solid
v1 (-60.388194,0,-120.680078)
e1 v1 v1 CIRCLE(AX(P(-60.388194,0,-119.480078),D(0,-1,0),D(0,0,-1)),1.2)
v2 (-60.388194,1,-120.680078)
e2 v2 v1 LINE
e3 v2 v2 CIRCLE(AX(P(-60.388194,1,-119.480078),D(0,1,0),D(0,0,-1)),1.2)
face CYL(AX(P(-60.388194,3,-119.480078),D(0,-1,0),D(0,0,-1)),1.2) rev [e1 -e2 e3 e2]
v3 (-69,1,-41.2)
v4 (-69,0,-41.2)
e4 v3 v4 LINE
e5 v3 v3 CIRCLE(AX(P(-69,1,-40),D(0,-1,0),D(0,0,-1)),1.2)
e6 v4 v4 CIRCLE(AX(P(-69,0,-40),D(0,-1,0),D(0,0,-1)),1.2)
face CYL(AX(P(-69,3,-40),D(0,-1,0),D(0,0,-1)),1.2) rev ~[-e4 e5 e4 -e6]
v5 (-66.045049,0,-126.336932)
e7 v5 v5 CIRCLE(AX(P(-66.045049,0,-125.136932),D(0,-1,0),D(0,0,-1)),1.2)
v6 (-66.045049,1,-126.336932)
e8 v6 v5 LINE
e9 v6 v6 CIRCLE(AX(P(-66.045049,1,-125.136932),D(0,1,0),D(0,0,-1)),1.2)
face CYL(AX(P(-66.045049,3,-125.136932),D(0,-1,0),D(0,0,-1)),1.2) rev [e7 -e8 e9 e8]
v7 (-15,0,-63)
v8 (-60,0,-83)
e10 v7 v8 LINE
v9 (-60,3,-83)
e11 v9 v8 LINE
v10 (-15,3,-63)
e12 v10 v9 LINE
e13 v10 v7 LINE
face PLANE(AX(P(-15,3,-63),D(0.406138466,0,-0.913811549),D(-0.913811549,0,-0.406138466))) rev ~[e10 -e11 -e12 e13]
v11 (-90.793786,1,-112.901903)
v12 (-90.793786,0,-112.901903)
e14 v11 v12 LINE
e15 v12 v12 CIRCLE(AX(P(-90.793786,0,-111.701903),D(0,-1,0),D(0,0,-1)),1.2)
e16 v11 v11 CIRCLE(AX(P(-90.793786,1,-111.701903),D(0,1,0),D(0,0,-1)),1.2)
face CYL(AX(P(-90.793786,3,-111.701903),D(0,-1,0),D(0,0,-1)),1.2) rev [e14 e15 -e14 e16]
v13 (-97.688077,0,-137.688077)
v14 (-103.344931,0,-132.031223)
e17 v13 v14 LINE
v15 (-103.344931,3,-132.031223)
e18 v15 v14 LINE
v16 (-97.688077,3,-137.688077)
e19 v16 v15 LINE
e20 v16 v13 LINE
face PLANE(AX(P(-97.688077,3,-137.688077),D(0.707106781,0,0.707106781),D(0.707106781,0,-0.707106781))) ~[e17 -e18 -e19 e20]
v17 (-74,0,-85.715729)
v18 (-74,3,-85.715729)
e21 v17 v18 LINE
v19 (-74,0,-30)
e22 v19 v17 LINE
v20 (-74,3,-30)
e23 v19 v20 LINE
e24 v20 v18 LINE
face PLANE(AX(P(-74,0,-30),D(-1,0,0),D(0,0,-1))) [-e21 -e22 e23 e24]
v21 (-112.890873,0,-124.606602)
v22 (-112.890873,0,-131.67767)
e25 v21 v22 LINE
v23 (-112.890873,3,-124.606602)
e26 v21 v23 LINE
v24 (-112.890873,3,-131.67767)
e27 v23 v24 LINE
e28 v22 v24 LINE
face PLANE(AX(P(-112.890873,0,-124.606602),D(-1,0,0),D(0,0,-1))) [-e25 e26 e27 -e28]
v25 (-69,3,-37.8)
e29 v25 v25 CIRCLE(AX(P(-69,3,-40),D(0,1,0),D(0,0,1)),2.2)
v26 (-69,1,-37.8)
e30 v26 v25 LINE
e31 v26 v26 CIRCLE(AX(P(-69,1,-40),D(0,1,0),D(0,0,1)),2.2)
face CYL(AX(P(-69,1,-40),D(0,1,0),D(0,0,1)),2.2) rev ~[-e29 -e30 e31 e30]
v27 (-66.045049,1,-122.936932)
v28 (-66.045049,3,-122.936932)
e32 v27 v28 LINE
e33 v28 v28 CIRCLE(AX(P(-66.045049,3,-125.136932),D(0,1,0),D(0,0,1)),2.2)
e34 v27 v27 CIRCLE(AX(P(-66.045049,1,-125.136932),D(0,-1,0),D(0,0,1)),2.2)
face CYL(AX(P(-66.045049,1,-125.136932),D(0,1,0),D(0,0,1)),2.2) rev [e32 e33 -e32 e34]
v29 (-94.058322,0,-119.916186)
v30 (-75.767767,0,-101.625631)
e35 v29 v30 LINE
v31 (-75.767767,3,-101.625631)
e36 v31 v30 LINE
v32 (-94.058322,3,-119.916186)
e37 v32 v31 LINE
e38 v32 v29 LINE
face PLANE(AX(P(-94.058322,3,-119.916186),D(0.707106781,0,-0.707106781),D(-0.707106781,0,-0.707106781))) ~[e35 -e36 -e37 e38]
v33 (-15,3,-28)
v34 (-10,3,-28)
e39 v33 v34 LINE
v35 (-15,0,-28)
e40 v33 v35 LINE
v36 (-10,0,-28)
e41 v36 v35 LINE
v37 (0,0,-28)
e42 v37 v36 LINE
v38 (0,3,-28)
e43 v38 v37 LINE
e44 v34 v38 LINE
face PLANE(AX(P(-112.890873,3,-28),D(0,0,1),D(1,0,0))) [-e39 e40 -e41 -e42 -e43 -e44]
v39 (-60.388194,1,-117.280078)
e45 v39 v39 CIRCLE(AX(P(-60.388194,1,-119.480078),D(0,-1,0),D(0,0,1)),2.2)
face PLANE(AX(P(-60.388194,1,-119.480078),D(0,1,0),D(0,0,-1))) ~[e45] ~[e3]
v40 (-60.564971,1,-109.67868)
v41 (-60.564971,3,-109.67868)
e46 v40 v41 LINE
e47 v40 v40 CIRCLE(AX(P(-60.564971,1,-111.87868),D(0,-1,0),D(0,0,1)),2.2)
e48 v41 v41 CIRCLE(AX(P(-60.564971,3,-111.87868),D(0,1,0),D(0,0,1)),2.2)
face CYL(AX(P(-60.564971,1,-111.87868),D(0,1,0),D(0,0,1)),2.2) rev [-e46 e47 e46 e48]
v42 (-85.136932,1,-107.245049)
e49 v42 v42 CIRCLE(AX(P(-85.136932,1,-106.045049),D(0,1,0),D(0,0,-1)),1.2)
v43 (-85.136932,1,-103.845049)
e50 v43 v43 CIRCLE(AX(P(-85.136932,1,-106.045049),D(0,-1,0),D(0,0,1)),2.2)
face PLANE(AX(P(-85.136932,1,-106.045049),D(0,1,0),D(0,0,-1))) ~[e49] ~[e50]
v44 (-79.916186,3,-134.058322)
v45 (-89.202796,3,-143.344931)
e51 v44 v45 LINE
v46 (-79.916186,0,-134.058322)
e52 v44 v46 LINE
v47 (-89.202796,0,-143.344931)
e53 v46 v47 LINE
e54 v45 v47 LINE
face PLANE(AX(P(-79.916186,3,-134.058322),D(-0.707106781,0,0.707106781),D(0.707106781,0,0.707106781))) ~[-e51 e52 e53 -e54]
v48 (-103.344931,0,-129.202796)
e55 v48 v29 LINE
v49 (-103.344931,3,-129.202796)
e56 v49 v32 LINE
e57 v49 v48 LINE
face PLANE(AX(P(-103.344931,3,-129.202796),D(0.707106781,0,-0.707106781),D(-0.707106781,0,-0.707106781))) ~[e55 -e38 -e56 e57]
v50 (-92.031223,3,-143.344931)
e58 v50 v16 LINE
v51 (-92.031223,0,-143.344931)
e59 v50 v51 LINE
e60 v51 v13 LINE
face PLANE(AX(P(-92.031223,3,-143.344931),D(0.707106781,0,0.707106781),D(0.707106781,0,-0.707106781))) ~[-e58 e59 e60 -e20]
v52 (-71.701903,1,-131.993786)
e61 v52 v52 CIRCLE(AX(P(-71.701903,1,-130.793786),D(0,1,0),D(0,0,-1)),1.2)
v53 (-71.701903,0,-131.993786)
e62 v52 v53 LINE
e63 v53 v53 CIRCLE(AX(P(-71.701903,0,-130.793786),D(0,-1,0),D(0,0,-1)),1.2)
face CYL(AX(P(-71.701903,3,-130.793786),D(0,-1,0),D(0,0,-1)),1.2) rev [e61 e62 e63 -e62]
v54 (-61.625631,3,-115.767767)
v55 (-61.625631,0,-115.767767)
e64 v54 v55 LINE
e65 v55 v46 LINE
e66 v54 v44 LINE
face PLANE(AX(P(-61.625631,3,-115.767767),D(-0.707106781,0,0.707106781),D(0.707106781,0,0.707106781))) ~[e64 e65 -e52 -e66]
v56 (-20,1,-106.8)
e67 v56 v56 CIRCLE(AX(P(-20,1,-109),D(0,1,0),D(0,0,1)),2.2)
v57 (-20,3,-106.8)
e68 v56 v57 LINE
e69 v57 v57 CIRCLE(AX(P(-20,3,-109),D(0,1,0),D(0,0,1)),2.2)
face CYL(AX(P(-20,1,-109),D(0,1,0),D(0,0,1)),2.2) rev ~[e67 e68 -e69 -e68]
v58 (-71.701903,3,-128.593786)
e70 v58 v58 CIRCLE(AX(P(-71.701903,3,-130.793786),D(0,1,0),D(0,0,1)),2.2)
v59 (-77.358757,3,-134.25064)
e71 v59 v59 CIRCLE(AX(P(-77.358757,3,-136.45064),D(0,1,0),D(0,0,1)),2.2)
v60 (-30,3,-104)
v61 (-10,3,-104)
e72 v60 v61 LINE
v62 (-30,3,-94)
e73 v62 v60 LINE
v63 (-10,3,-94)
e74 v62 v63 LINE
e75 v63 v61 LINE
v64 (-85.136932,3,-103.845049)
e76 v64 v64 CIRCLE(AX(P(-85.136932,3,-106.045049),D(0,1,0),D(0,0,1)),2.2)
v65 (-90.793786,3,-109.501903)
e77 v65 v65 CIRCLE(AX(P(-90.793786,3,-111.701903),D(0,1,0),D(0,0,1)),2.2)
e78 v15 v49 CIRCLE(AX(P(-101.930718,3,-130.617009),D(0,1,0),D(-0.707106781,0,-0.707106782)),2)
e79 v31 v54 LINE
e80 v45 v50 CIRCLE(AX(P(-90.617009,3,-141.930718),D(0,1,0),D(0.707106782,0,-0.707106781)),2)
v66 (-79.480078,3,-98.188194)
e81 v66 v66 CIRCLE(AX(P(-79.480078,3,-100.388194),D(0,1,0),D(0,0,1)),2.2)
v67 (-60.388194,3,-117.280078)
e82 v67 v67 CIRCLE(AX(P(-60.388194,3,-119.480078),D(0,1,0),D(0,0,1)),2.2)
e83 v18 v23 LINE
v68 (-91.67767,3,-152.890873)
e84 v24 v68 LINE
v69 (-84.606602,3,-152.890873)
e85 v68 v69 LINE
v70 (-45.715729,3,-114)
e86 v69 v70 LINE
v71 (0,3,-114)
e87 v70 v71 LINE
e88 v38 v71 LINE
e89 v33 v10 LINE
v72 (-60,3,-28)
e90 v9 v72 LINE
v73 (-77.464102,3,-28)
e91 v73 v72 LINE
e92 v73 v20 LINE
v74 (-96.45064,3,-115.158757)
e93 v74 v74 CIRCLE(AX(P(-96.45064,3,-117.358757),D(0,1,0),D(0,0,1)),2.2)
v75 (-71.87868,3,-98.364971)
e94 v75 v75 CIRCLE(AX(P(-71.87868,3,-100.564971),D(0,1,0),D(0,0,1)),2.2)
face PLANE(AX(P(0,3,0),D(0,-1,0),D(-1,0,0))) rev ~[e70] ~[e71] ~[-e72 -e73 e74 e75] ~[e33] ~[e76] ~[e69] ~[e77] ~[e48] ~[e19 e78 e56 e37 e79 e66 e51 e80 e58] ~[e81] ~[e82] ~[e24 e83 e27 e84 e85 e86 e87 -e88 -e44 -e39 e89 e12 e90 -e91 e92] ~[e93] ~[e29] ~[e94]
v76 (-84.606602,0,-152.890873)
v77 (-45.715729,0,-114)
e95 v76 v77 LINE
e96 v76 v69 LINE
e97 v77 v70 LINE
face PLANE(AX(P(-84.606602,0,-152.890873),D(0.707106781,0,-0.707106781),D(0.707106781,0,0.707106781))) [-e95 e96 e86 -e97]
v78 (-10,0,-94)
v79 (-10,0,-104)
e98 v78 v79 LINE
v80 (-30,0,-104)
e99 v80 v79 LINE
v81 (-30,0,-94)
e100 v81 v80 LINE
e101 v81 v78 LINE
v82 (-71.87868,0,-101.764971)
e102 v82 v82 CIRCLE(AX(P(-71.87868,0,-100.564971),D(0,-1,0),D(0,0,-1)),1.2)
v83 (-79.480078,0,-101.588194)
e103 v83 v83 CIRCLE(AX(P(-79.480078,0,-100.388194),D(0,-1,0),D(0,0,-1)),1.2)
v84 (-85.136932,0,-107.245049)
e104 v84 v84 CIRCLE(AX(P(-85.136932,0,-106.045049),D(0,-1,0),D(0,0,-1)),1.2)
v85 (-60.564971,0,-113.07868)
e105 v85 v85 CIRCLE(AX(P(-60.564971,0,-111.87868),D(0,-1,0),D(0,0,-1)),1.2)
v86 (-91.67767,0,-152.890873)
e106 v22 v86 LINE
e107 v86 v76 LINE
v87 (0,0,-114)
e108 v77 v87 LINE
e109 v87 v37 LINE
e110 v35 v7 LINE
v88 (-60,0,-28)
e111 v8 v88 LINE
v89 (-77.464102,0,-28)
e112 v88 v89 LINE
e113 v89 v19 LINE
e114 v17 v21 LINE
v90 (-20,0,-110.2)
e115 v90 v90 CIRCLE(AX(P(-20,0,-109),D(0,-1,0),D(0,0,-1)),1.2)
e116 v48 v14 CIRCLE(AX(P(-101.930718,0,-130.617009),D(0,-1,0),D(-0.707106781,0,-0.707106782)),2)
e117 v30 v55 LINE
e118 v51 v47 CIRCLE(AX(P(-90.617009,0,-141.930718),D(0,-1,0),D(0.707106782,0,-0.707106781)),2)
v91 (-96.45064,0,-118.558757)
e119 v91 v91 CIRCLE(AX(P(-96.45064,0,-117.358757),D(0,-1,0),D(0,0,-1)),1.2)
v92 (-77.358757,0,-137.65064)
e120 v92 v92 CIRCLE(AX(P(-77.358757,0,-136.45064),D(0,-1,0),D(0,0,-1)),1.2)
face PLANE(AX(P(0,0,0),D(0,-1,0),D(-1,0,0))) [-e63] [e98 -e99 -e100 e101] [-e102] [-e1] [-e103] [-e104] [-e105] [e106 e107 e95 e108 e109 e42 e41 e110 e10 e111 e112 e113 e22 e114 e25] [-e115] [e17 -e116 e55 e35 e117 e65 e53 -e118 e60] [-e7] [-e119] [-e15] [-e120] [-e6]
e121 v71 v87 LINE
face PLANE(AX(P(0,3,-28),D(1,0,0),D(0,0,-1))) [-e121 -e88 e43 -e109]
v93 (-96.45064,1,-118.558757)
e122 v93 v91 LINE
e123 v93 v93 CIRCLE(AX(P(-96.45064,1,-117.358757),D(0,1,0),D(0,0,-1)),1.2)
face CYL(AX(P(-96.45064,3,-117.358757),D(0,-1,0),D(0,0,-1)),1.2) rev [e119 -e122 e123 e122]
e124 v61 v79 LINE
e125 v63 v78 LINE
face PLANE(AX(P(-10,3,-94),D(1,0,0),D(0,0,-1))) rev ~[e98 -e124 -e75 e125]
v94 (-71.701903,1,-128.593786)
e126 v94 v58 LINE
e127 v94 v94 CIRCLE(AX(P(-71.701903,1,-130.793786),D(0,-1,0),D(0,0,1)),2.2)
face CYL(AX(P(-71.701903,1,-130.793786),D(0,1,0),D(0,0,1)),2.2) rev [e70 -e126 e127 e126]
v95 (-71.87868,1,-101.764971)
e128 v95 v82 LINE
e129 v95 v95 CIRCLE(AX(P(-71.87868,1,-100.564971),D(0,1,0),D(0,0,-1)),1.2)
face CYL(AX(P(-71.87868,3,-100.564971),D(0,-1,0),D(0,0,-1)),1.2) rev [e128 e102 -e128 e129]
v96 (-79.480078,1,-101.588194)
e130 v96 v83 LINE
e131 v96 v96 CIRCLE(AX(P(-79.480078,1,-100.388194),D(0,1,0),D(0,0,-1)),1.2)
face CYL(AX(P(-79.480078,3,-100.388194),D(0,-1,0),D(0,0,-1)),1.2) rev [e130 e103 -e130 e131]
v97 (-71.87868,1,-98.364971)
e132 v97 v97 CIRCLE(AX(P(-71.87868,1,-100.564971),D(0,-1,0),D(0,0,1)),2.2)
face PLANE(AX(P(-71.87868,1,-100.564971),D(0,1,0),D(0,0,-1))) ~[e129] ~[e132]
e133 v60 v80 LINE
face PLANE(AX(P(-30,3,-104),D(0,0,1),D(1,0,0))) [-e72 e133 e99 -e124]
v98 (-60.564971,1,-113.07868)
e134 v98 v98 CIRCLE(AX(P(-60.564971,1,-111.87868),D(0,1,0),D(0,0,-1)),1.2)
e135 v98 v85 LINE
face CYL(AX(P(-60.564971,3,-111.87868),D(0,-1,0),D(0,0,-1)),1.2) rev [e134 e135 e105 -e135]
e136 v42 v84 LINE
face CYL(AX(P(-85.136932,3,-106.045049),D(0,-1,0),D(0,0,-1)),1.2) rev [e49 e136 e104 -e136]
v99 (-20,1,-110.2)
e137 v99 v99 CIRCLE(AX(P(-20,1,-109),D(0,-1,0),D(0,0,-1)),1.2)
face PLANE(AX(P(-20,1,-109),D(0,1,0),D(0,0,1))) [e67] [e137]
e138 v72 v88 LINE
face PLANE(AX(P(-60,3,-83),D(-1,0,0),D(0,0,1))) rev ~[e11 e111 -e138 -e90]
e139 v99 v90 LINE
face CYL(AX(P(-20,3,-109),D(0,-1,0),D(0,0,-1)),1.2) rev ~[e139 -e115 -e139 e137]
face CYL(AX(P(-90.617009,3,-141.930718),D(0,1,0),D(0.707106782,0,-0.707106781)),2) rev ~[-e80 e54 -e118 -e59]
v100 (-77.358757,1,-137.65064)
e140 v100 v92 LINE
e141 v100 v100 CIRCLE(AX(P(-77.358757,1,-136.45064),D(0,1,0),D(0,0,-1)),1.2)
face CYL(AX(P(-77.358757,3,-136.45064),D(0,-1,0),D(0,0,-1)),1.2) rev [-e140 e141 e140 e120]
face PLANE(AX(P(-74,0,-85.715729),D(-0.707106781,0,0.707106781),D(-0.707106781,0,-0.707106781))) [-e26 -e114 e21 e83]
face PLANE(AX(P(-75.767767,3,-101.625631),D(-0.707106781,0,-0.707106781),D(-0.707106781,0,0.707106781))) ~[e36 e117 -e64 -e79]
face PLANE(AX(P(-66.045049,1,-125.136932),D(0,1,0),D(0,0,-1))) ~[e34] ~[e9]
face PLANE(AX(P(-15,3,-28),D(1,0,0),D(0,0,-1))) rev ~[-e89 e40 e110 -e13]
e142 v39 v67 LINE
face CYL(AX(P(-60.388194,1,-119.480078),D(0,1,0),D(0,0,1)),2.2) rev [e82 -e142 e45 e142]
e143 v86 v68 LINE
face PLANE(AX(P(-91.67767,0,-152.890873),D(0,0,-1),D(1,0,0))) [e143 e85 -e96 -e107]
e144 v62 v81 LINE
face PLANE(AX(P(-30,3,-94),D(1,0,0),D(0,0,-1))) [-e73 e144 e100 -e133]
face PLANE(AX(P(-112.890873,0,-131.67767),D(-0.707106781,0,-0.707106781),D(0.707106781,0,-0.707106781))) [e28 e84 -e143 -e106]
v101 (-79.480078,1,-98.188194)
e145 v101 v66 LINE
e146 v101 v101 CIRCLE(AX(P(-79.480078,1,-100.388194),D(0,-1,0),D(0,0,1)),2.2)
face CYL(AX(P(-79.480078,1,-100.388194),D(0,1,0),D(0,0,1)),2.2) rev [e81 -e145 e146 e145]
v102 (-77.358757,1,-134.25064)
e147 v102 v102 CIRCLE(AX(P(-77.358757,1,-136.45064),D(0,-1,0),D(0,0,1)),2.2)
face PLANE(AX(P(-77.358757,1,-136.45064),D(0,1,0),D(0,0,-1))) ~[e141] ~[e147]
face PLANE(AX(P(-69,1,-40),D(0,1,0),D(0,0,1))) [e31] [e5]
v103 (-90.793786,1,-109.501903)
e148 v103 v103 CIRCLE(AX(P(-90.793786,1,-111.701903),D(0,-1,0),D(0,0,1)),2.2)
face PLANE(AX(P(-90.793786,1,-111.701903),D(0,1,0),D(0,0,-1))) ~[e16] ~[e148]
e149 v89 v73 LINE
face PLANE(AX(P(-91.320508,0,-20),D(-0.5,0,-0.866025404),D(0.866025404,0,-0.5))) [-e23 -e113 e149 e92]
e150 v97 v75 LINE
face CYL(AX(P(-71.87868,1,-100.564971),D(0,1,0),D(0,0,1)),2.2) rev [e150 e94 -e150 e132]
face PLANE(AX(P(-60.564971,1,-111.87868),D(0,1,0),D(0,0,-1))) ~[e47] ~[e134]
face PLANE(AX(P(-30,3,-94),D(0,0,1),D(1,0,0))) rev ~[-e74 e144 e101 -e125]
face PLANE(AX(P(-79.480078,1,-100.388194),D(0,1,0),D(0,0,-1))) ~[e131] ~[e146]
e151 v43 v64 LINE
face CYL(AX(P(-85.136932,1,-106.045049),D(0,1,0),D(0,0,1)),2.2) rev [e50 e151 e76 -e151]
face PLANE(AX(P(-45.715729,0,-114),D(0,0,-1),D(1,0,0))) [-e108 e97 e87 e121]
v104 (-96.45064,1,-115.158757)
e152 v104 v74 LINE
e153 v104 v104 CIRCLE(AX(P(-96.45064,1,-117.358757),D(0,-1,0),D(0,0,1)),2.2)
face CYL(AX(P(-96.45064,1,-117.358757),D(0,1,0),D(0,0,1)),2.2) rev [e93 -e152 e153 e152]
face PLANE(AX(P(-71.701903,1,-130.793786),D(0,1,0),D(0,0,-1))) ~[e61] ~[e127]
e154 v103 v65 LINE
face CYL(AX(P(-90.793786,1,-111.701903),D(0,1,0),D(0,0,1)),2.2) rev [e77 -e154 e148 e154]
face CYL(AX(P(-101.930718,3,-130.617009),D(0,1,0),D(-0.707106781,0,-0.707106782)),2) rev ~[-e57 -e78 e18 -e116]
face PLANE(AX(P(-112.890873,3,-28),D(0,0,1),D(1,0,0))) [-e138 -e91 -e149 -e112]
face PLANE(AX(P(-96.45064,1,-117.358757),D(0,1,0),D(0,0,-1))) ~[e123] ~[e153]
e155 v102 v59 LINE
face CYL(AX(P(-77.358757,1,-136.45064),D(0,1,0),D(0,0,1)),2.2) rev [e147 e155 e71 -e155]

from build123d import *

# Parameters (mm, degrees)
EXTRUDE_1_DEPTH              = 3
CUT_EXTRUDE_1_REACH          = 217.134
HOLE_WIZARD_M2_2_D           = 2.4
HOLE_WIZARD_M2_2_CBORE_D     = 4.4
HOLE_WIZARD_M2_2_CBORE_DEPTH = 2
CUT_EXTRUDE_2_REACH          = 217.134
HOLE_WIZARD_M2_3_D           = 2.4
HOLE_WIZARD_M2_3_CBORE_D     = 4.4
HOLE_WIZARD_M2_3_CBORE_DEPTH = 2
MIRROR_7_COPY_1_REACH        = 217.134
MIRROR_7_COPY_2_D            = 2.4
MIRROR_7_COPY_2_CBORE_D      = 4.4
MIRROR_7_COPY_2_CBORE_DEPTH  = 2
CUT_EXTRUDE_3_REACH          = 217.134
SKETCH_18_W                  = 20
SKETCH_18_H                  = 10
HOLE_WIZARD_M2_4_D           = 2.4
HOLE_WIZARD_M2_4_CBORE_D     = 4.4
HOLE_WIZARD_M2_4_CBORE_DEPTH = 2
HOLE_WIZARD_M2_5_D           = 2.4
HOLE_WIZARD_M2_5_CBORE_D     = 4.4
HOLE_WIZARD_M2_5_CBORE_DEPTH = 2
HOLE_WIZARD_M2_6_D           = 2.4
HOLE_WIZARD_M2_6_CBORE_D     = 4.4
HOLE_WIZARD_M2_6_CBORE_DEPTH = 2
SKETCH_24_W                  = 20
SKETCH_24_H                  = 56
CUT_EXTRUDE_4_DEPTH          = 10
HOLE_WIZARD_M2_7_D           = 2.4
HOLE_WIZARD_M2_7_CBORE_D     = 4.4
HOLE_WIZARD_M2_7_CBORE_DEPTH = 2
SKETCH_26_OUTSIDE_W          = 390.69
SKETCH_26_OUTSIDE_H          = 393.83
SKETCH_26_OUTSIDE_W_2        = 112.890872965
SKETCH_26_OUTSIDE_H_2        = 124.890872965
CUT_EXTRUDE_5_DEPTH          = 10


with BuildPart() as part:
    # 草图1 → 凸台-拉伸1 (new body)
    with BuildSketch(Plane(origin=(0, 0, 0), x_dir=(1, 0, 0), z_dir=(0, 1, 0))):
        Polygon((-45.715728753, 114), (45.715728753, 114), (84.606601718, 152.890872965), (91.67766953, 152.890872965), (112.890872965, 131.67766953), (112.890872965, 124.606601718), (74, 85.715728753), (74, 30), (91.320508076, 20), (146.320508076, 20), (151.320508076, 15), (151.320508076, -15), (146.320508076, -20), (91.320508076, -20), (74, -30), (74, -85.715728753), (112.890872965, -124.606601718), (112.890872965, -131.67766953), (91.67766953, -152.890872965), (84.606601718, -152.890872965), (45.715728753, -114), (-45.715728753, -114), (-84.606601718, -152.890872965), (-91.67766953, -152.890872965), (-112.890872965, -131.67766953), (-112.890872965, -124.606601718), (-74, -85.715728753), (-74, -30), (-91.320508076, -20), (-146.320508076, -20), (-151.320508076, -15), (-151.320508076, 15), (-146.320508076, 20), (-91.320508076, 20), (-74, 30), (-74, 85.715728753), (-112.890872965, 124.606601718), (-112.890872965, 131.67766953), (-91.67766953, 152.890872965), (-84.606601718, 152.890872965), align=None)
    extrude(amount=EXTRUDE_1_DEPTH)

    # 草图2 → 切除-拉伸1 (cut, up to next)
    with BuildSketch(Plane(origin=(0, 3, 0), x_dir=(1, 0, 0), z_dir=(0, 1, 0)), mode=Mode.PRIVATE) as cut_extrude_1_sk1:
        with BuildLine():
            Line((103.820508076, -10), (103.820508076, 10))
            Line((103.820508076, 10), (142.820508076, 10))
            ThreePointArc((142.820508076, 10), (144.234721638, 9.414213562), (144.820508076, 8))
            Line((144.820508076, 8), (144.820508076, -8))
            ThreePointArc((144.820508076, -8), (144.234721638, -9.414213562), (142.820508076, -10))
            Line((142.820508076, -10), (103.820508076, -10))
        make_face()
    cut_extrude_1_tool1 = extrude(cut_extrude_1_sk1.sketch, amount=-CUT_EXTRUDE_1_REACH, mode=Mode.PRIVATE) & part.part
    cut_extrude_1 = cut_extrude_1_tool1.solids().sort_by_distance((124.278435, 3, 0))[0]
    add(cut_extrude_1, mode=Mode.SUBTRACT)

    # M2 凹头盖螺钉的柱形沉头孔2 (through all)
    with Locations(Plane(origin=(100.320508076, 3, -8), x_dir=(0, 0, 1), z_dir=(0, 1, 0))):
        with Locations((0, 0), (-5.5, 5.25), (-5.5, 13.25), (-5.5, 21.25), (-5.5, 29.25), (16, 0), (21.5, 5.25), (21.5, 13.25), (21.5, 21.25), (21.5, 29.25)):
            hole_wizard_m2_2 = CounterBoreHole(HOLE_WIZARD_M2_2_D / 2, HOLE_WIZARD_M2_2_CBORE_D / 2, HOLE_WIZARD_M2_2_CBORE_DEPTH)

    # 草图10 → 切除-拉伸2 (cut, up to next)
    with BuildSketch(Plane(origin=(0, 3, 0), x_dir=(1, 0, 0), z_dir=(0, 1, 0)), mode=Mode.PRIVATE) as cut_extrude_2_sk1:
        with BuildLine():
            Line((75.767766953, 101.625631329), (61.625631329, 115.767766953))
            Line((61.625631329, 115.767766953), (79.916185958, 134.058321582))
            Line((79.916185958, 134.058321582), (89.202795796, 143.344931419))
            ThreePointArc((89.202795796, 143.344931419), (90.617009358, 143.930717857), (92.03122292, 143.344931419))
            Line((92.03122292, 143.344931419), (97.68807717, 137.68807717))
            Line((97.68807717, 137.68807717), (103.344931419, 132.03122292))
            ThreePointArc((103.344931419, 132.03122292), (103.930717857, 130.617009358), (103.344931419, 129.202795796))
            Line((103.344931419, 129.202795796), (94.058321582, 119.916185958))
            Line((94.058321582, 119.916185958), (75.767766953, 101.625631329))
        make_face()
    cut_extrude_2_tool1 = extrude(cut_extrude_2_sk1.sketch, amount=-CUT_EXTRUDE_2_REACH, mode=Mode.PRIVATE) & part.part
    cut_extrude_2 = cut_extrude_2_tool1.solids().sort_by_distance((83.162638, 3, -123.162638))[0]
    add(cut_extrude_2, mode=Mode.SUBTRACT)

    # M2 凹头盖螺钉的柱形沉头孔3 (through all)
    with Locations(Plane(origin=(60.388194462, 3, -119.480077554), x_dir=(0, 0, 1), z_dir=(0, 1, 0))):
        with Locations((0, 0), (-5.65685425, 5.65685425), (-11.313708499, 11.313708499), (-16.970562749, 16.970562749), (7.601397898, 0.176776695), (18.915106397, 11.490485194), (19.091883092, 19.091883092), (13.435028842, 24.748737342), (7.778174593, 30.405591591), (2.121320343, 36.062445841)):
            hole_wizard_m2_3 = CounterBoreHole(HOLE_WIZARD_M2_3_D / 2, HOLE_WIZARD_M2_3_CBORE_D / 2, HOLE_WIZARD_M2_3_CBORE_DEPTH)

    # 镜向5: 切除-拉伸1, M2 凹头盖螺钉的柱形沉头孔2 across plane
    add(cut_extrude_1.mirror(Plane(origin=(0, 0, 0), x_dir=(0, 0, 1), z_dir=(1, 0, 0))), mode=Mode.SUBTRACT)
    add(hole_wizard_m2_2.mirror(Plane(origin=(0, 0, 0), x_dir=(0, 0, 1), z_dir=(1, 0, 0))), mode=Mode.SUBTRACT)

    # 镜向6: 切除-拉伸2, M2 凹头盖螺钉的柱形沉头孔3 across plane
    add(cut_extrude_2.mirror(Plane(origin=(0, 0, 0), x_dir=(0, 0, 1), z_dir=(1, 0, 0))), mode=Mode.SUBTRACT)
    add(hole_wizard_m2_3.mirror(Plane(origin=(0, 0, 0), x_dir=(0, 0, 1), z_dir=(1, 0, 0))), mode=Mode.SUBTRACT)

    # 镜向7: 切除-拉伸2, M2 凹头盖螺钉的柱形沉头孔3 across plane
    add(cut_extrude_2.mirror(Plane.XY), mode=Mode.SUBTRACT)
    add(hole_wizard_m2_3.mirror(Plane.XY), mode=Mode.SUBTRACT)

    # 镜向7 copy 1 sketch → 镜向7 copy 1 (cut, up to next)
    with BuildSketch(Plane(origin=(0, 3, 0), x_dir=(-1, 0, 0), z_dir=(0, 1, 0)), mode=Mode.PRIVATE) as mirror_7_copy_1_sk1:
        with BuildLine():
            Line((75.767766953, 101.625631329), (61.625631329, 115.767766953))
            Line((61.625631329, 115.767766953), (79.916185958, 134.058321582))
            Line((79.916185958, 134.058321582), (89.202795796, 143.344931419))
            ThreePointArc((89.202795796, 143.344931419), (90.617009358, 143.930717857), (92.03122292, 143.344931419))
            Line((92.03122292, 143.344931419), (97.68807717, 137.68807717))
            Line((97.68807717, 137.68807717), (103.344931419, 132.03122292))
            ThreePointArc((103.344931419, 132.03122292), (103.930717857, 130.617009358), (103.344931419, 129.202795796))
            Line((103.344931419, 129.202795796), (94.058321582, 119.916185958))
            Line((94.058321582, 119.916185958), (75.767766953, 101.625631329))
        make_face()
    mirror_7_copy_1_tool1 = extrude(mirror_7_copy_1_sk1.sketch, amount=-MIRROR_7_COPY_1_REACH, mode=Mode.PRIVATE) & part.part
    add(mirror_7_copy_1_tool1.solids().sort_by_distance((-83.162638, 3, 123.162638))[0], mode=Mode.SUBTRACT)

    # 镜向7 copy 2 (through all)
    with Locations(Plane(origin=(-60.388194462, 3, 119.480077554), x_dir=(0, 0, -1), z_dir=(0, 1, 0))):
        with Locations((0, 0), (-5.65685425, 5.65685425), (-11.313708499, 11.313708499), (-16.970562749, 16.970562749), (7.601397898, 0.176776695), (18.915106397, 11.490485194), (19.091883092, 19.091883092), (13.435028842, 24.748737342), (7.778174593, 30.405591591), (2.121320343, 36.062445841)):
            CounterBoreHole(MIRROR_7_COPY_2_D / 2, MIRROR_7_COPY_2_CBORE_D / 2, MIRROR_7_COPY_2_CBORE_DEPTH)

    # 草图18 → 切除-拉伸3 (cut, up to next)
    with BuildSketch(Plane(origin=(0, 3, 0), x_dir=(1, 0, 0), z_dir=(0, 1, 0)), mode=Mode.PRIVATE) as cut_extrude_3_sk1:
        Polygon((-60, -28), (-15, -28), (-15, -63), (-60, -83), align=None)
    cut_extrude_3_tool1 = extrude(cut_extrude_3_sk1.sketch, amount=-CUT_EXTRUDE_3_REACH, mode=Mode.PRIVATE) & part.part
    # 草图18 → 切除-拉伸3 (cut, up to next)
    with BuildSketch(Plane(origin=(0, 3, 0), x_dir=(1, 0, 0), z_dir=(0, 1, 0)), mode=Mode.PRIVATE) as cut_extrude_3_sk2:
        with Locations((20, -99)):
            Rectangle(SKETCH_18_W, SKETCH_18_H)
    cut_extrude_3_tool2 = extrude(cut_extrude_3_sk2.sketch, amount=-CUT_EXTRUDE_3_REACH, mode=Mode.PRIVATE) & part.part
    # 草图18 → 切除-拉伸3 (cut, up to next)
    with BuildSketch(Plane(origin=(0, 3, 0), x_dir=(1, 0, 0), z_dir=(0, 1, 0)), mode=Mode.PRIVATE) as cut_extrude_3_sk3:
        with Locations((-20, -99)):
            Rectangle(SKETCH_18_W, SKETCH_18_H)
    cut_extrude_3_tool3 = extrude(cut_extrude_3_sk3.sketch, amount=-CUT_EXTRUDE_3_REACH, mode=Mode.PRIVATE) & part.part
    # 草图18 → 切除-拉伸3 (cut, up to next)
    with BuildSketch(Plane(origin=(0, 3, 0), x_dir=(1, 0, 0), z_dir=(0, 1, 0)), mode=Mode.PRIVATE) as cut_extrude_3_sk4:
        Polygon((15, -63), (60, -83), (60, -28), (15, -28), align=None)
    cut_extrude_3_tool4 = extrude(cut_extrude_3_sk4.sketch, amount=-CUT_EXTRUDE_3_REACH, mode=Mode.PRIVATE) & part.part
    # 草图18 → 切除-拉伸3 (cut, up to next)
    with BuildSketch(Plane(origin=(0, 3, 0), x_dir=(1, 0, 0), z_dir=(0, 1, 0)), mode=Mode.PRIVATE) as cut_extrude_3_sk5:
        with Locations((-20, 99)):
            Rectangle(SKETCH_18_W, SKETCH_18_H)
    cut_extrude_3_tool5 = extrude(cut_extrude_3_sk5.sketch, amount=-CUT_EXTRUDE_3_REACH, mode=Mode.PRIVATE) & part.part
    # 草图18 → 切除-拉伸3 (cut, up to next)
    with BuildSketch(Plane(origin=(0, 3, 0), x_dir=(1, 0, 0), z_dir=(0, 1, 0)), mode=Mode.PRIVATE) as cut_extrude_3_sk6:
        with Locations((20, 99)):
            Rectangle(SKETCH_18_W, SKETCH_18_H)
    cut_extrude_3_tool6 = extrude(cut_extrude_3_sk6.sketch, amount=-CUT_EXTRUDE_3_REACH, mode=Mode.PRIVATE) & part.part
    # 草图18 → 切除-拉伸3 (cut, up to next)
    with BuildSketch(Plane(origin=(0, 3, 0), x_dir=(1, 0, 0), z_dir=(0, 1, 0)), mode=Mode.PRIVATE) as cut_extrude_3_sk7:
        Polygon((15, 63), (60, 83), (60, 28), (15, 28), align=None)
    cut_extrude_3_tool7 = extrude(cut_extrude_3_sk7.sketch, amount=-CUT_EXTRUDE_3_REACH, mode=Mode.PRIVATE) & part.part
    # 草图18 → 切除-拉伸3 (cut, up to next)
    with BuildSketch(Plane(origin=(0, 3, 0), x_dir=(1, 0, 0), z_dir=(0, 1, 0)), mode=Mode.PRIVATE) as cut_extrude_3_sk8:
        Polygon((-15, 28), (-15, 63), (-60, 83), (-60, 28), align=None)
    cut_extrude_3_tool8 = extrude(cut_extrude_3_sk8.sketch, amount=-CUT_EXTRUDE_3_REACH, mode=Mode.PRIVATE) & part.part
    add(cut_extrude_3_tool1.solids().sort_by_distance((-39.166667, 3, 50.87037))[0], mode=Mode.SUBTRACT)
    add(cut_extrude_3_tool2.solids().sort_by_distance((20, 3, 99))[0], mode=Mode.SUBTRACT)
    add(cut_extrude_3_tool3.solids().sort_by_distance((-20, 3, 99))[0], mode=Mode.SUBTRACT)
    add(cut_extrude_3_tool4.solids().sort_by_distance((39.166667, 3, 50.87037))[0], mode=Mode.SUBTRACT)
    add(cut_extrude_3_tool5.solids().sort_by_distance((-20, 3, -99))[0], mode=Mode.SUBTRACT)
    add(cut_extrude_3_tool6.solids().sort_by_distance((20, 3, -99))[0], mode=Mode.SUBTRACT)
    add(cut_extrude_3_tool7.solids().sort_by_distance((39.166667, 3, -50.87037))[0], mode=Mode.SUBTRACT)
    add(cut_extrude_3_tool8.solids().sort_by_distance((-39.166667, 3, -50.87037))[0], mode=Mode.SUBTRACT)

    # M2 凹头盖螺钉的柱形沉头孔4 (through all)
    with Locations(Plane(origin=(-20, 3, 109), x_dir=(0, 0, 1), z_dir=(0, 1, 0))):
        with Locations((0, 0), (0, 40), (-218, 0), (-218, 40)):
            CounterBoreHole(HOLE_WIZARD_M2_4_D / 2, HOLE_WIZARD_M2_4_CBORE_D / 2, HOLE_WIZARD_M2_4_CBORE_DEPTH)

    # M2 凹头盖螺钉的柱形沉头孔5 (through all)
    with Locations(Plane(origin=(-69, 3, -40), x_dir=(0, 0, 1), z_dir=(0, 1, 0))):
        with Locations((0, 0), (0, 138)):
            hole_wizard_m2_5 = CounterBoreHole(HOLE_WIZARD_M2_5_D / 2, HOLE_WIZARD_M2_5_CBORE_D / 2, HOLE_WIZARD_M2_5_CBORE_DEPTH)

    # 镜向8: M2 凹头盖螺钉的柱形沉头孔5 across plane
    add(hole_wizard_m2_5.mirror(Plane.XY), mode=Mode.SUBTRACT)

    # M2 凹头盖螺钉的柱形沉头孔6 (through all)
    with Locations(Plane(origin=(-69, 3, 0), x_dir=(0, 0, 1), z_dir=(0, 1, 0))):
        with Locations((0, 0), (0, 138)):
            CounterBoreHole(HOLE_WIZARD_M2_6_D / 2, HOLE_WIZARD_M2_6_CBORE_D / 2, HOLE_WIZARD_M2_6_CBORE_DEPTH)

    # 草图24 → 切除-拉伸4 (cut)
    with BuildSketch(Plane(origin=(0, 3, 0), x_dir=(1, 0, 0), z_dir=(0, 1, 0))):
        Rectangle(SKETCH_24_W, SKETCH_24_H)
    extrude(amount=-CUT_EXTRUDE_4_DEPTH, mode=Mode.SUBTRACT)

    # M2 凹头盖螺钉的柱形沉头孔7 (through all)
    with Locations(Plane(origin=(-20, 3, 0), x_dir=(0, 0, 1), z_dir=(0, 1, 0))):
        with Locations((0, 0), (0, 40)):
            CounterBoreHole(HOLE_WIZARD_M2_7_D / 2, HOLE_WIZARD_M2_7_CBORE_D / 2, HOLE_WIZARD_M2_7_CBORE_DEPTH)

    # 草图26 outside → 切除-拉伸5 (cut)
    with BuildSketch(Plane(origin=(0, 3, 0), x_dir=(1, 0, 0), z_dir=(0, 1, 0))):
        Rectangle(SKETCH_26_OUTSIDE_W, SKETCH_26_OUTSIDE_H)
        with Locations((-56.445436483, 90.445436482)):
            Rectangle(SKETCH_26_OUTSIDE_W_2, SKETCH_26_OUTSIDE_H_2, mode=Mode.SUBTRACT)
    extrude(amount=-CUT_EXTRUDE_5_DEPTH, mode=Mode.SUBTRACT)


solid = part.part
